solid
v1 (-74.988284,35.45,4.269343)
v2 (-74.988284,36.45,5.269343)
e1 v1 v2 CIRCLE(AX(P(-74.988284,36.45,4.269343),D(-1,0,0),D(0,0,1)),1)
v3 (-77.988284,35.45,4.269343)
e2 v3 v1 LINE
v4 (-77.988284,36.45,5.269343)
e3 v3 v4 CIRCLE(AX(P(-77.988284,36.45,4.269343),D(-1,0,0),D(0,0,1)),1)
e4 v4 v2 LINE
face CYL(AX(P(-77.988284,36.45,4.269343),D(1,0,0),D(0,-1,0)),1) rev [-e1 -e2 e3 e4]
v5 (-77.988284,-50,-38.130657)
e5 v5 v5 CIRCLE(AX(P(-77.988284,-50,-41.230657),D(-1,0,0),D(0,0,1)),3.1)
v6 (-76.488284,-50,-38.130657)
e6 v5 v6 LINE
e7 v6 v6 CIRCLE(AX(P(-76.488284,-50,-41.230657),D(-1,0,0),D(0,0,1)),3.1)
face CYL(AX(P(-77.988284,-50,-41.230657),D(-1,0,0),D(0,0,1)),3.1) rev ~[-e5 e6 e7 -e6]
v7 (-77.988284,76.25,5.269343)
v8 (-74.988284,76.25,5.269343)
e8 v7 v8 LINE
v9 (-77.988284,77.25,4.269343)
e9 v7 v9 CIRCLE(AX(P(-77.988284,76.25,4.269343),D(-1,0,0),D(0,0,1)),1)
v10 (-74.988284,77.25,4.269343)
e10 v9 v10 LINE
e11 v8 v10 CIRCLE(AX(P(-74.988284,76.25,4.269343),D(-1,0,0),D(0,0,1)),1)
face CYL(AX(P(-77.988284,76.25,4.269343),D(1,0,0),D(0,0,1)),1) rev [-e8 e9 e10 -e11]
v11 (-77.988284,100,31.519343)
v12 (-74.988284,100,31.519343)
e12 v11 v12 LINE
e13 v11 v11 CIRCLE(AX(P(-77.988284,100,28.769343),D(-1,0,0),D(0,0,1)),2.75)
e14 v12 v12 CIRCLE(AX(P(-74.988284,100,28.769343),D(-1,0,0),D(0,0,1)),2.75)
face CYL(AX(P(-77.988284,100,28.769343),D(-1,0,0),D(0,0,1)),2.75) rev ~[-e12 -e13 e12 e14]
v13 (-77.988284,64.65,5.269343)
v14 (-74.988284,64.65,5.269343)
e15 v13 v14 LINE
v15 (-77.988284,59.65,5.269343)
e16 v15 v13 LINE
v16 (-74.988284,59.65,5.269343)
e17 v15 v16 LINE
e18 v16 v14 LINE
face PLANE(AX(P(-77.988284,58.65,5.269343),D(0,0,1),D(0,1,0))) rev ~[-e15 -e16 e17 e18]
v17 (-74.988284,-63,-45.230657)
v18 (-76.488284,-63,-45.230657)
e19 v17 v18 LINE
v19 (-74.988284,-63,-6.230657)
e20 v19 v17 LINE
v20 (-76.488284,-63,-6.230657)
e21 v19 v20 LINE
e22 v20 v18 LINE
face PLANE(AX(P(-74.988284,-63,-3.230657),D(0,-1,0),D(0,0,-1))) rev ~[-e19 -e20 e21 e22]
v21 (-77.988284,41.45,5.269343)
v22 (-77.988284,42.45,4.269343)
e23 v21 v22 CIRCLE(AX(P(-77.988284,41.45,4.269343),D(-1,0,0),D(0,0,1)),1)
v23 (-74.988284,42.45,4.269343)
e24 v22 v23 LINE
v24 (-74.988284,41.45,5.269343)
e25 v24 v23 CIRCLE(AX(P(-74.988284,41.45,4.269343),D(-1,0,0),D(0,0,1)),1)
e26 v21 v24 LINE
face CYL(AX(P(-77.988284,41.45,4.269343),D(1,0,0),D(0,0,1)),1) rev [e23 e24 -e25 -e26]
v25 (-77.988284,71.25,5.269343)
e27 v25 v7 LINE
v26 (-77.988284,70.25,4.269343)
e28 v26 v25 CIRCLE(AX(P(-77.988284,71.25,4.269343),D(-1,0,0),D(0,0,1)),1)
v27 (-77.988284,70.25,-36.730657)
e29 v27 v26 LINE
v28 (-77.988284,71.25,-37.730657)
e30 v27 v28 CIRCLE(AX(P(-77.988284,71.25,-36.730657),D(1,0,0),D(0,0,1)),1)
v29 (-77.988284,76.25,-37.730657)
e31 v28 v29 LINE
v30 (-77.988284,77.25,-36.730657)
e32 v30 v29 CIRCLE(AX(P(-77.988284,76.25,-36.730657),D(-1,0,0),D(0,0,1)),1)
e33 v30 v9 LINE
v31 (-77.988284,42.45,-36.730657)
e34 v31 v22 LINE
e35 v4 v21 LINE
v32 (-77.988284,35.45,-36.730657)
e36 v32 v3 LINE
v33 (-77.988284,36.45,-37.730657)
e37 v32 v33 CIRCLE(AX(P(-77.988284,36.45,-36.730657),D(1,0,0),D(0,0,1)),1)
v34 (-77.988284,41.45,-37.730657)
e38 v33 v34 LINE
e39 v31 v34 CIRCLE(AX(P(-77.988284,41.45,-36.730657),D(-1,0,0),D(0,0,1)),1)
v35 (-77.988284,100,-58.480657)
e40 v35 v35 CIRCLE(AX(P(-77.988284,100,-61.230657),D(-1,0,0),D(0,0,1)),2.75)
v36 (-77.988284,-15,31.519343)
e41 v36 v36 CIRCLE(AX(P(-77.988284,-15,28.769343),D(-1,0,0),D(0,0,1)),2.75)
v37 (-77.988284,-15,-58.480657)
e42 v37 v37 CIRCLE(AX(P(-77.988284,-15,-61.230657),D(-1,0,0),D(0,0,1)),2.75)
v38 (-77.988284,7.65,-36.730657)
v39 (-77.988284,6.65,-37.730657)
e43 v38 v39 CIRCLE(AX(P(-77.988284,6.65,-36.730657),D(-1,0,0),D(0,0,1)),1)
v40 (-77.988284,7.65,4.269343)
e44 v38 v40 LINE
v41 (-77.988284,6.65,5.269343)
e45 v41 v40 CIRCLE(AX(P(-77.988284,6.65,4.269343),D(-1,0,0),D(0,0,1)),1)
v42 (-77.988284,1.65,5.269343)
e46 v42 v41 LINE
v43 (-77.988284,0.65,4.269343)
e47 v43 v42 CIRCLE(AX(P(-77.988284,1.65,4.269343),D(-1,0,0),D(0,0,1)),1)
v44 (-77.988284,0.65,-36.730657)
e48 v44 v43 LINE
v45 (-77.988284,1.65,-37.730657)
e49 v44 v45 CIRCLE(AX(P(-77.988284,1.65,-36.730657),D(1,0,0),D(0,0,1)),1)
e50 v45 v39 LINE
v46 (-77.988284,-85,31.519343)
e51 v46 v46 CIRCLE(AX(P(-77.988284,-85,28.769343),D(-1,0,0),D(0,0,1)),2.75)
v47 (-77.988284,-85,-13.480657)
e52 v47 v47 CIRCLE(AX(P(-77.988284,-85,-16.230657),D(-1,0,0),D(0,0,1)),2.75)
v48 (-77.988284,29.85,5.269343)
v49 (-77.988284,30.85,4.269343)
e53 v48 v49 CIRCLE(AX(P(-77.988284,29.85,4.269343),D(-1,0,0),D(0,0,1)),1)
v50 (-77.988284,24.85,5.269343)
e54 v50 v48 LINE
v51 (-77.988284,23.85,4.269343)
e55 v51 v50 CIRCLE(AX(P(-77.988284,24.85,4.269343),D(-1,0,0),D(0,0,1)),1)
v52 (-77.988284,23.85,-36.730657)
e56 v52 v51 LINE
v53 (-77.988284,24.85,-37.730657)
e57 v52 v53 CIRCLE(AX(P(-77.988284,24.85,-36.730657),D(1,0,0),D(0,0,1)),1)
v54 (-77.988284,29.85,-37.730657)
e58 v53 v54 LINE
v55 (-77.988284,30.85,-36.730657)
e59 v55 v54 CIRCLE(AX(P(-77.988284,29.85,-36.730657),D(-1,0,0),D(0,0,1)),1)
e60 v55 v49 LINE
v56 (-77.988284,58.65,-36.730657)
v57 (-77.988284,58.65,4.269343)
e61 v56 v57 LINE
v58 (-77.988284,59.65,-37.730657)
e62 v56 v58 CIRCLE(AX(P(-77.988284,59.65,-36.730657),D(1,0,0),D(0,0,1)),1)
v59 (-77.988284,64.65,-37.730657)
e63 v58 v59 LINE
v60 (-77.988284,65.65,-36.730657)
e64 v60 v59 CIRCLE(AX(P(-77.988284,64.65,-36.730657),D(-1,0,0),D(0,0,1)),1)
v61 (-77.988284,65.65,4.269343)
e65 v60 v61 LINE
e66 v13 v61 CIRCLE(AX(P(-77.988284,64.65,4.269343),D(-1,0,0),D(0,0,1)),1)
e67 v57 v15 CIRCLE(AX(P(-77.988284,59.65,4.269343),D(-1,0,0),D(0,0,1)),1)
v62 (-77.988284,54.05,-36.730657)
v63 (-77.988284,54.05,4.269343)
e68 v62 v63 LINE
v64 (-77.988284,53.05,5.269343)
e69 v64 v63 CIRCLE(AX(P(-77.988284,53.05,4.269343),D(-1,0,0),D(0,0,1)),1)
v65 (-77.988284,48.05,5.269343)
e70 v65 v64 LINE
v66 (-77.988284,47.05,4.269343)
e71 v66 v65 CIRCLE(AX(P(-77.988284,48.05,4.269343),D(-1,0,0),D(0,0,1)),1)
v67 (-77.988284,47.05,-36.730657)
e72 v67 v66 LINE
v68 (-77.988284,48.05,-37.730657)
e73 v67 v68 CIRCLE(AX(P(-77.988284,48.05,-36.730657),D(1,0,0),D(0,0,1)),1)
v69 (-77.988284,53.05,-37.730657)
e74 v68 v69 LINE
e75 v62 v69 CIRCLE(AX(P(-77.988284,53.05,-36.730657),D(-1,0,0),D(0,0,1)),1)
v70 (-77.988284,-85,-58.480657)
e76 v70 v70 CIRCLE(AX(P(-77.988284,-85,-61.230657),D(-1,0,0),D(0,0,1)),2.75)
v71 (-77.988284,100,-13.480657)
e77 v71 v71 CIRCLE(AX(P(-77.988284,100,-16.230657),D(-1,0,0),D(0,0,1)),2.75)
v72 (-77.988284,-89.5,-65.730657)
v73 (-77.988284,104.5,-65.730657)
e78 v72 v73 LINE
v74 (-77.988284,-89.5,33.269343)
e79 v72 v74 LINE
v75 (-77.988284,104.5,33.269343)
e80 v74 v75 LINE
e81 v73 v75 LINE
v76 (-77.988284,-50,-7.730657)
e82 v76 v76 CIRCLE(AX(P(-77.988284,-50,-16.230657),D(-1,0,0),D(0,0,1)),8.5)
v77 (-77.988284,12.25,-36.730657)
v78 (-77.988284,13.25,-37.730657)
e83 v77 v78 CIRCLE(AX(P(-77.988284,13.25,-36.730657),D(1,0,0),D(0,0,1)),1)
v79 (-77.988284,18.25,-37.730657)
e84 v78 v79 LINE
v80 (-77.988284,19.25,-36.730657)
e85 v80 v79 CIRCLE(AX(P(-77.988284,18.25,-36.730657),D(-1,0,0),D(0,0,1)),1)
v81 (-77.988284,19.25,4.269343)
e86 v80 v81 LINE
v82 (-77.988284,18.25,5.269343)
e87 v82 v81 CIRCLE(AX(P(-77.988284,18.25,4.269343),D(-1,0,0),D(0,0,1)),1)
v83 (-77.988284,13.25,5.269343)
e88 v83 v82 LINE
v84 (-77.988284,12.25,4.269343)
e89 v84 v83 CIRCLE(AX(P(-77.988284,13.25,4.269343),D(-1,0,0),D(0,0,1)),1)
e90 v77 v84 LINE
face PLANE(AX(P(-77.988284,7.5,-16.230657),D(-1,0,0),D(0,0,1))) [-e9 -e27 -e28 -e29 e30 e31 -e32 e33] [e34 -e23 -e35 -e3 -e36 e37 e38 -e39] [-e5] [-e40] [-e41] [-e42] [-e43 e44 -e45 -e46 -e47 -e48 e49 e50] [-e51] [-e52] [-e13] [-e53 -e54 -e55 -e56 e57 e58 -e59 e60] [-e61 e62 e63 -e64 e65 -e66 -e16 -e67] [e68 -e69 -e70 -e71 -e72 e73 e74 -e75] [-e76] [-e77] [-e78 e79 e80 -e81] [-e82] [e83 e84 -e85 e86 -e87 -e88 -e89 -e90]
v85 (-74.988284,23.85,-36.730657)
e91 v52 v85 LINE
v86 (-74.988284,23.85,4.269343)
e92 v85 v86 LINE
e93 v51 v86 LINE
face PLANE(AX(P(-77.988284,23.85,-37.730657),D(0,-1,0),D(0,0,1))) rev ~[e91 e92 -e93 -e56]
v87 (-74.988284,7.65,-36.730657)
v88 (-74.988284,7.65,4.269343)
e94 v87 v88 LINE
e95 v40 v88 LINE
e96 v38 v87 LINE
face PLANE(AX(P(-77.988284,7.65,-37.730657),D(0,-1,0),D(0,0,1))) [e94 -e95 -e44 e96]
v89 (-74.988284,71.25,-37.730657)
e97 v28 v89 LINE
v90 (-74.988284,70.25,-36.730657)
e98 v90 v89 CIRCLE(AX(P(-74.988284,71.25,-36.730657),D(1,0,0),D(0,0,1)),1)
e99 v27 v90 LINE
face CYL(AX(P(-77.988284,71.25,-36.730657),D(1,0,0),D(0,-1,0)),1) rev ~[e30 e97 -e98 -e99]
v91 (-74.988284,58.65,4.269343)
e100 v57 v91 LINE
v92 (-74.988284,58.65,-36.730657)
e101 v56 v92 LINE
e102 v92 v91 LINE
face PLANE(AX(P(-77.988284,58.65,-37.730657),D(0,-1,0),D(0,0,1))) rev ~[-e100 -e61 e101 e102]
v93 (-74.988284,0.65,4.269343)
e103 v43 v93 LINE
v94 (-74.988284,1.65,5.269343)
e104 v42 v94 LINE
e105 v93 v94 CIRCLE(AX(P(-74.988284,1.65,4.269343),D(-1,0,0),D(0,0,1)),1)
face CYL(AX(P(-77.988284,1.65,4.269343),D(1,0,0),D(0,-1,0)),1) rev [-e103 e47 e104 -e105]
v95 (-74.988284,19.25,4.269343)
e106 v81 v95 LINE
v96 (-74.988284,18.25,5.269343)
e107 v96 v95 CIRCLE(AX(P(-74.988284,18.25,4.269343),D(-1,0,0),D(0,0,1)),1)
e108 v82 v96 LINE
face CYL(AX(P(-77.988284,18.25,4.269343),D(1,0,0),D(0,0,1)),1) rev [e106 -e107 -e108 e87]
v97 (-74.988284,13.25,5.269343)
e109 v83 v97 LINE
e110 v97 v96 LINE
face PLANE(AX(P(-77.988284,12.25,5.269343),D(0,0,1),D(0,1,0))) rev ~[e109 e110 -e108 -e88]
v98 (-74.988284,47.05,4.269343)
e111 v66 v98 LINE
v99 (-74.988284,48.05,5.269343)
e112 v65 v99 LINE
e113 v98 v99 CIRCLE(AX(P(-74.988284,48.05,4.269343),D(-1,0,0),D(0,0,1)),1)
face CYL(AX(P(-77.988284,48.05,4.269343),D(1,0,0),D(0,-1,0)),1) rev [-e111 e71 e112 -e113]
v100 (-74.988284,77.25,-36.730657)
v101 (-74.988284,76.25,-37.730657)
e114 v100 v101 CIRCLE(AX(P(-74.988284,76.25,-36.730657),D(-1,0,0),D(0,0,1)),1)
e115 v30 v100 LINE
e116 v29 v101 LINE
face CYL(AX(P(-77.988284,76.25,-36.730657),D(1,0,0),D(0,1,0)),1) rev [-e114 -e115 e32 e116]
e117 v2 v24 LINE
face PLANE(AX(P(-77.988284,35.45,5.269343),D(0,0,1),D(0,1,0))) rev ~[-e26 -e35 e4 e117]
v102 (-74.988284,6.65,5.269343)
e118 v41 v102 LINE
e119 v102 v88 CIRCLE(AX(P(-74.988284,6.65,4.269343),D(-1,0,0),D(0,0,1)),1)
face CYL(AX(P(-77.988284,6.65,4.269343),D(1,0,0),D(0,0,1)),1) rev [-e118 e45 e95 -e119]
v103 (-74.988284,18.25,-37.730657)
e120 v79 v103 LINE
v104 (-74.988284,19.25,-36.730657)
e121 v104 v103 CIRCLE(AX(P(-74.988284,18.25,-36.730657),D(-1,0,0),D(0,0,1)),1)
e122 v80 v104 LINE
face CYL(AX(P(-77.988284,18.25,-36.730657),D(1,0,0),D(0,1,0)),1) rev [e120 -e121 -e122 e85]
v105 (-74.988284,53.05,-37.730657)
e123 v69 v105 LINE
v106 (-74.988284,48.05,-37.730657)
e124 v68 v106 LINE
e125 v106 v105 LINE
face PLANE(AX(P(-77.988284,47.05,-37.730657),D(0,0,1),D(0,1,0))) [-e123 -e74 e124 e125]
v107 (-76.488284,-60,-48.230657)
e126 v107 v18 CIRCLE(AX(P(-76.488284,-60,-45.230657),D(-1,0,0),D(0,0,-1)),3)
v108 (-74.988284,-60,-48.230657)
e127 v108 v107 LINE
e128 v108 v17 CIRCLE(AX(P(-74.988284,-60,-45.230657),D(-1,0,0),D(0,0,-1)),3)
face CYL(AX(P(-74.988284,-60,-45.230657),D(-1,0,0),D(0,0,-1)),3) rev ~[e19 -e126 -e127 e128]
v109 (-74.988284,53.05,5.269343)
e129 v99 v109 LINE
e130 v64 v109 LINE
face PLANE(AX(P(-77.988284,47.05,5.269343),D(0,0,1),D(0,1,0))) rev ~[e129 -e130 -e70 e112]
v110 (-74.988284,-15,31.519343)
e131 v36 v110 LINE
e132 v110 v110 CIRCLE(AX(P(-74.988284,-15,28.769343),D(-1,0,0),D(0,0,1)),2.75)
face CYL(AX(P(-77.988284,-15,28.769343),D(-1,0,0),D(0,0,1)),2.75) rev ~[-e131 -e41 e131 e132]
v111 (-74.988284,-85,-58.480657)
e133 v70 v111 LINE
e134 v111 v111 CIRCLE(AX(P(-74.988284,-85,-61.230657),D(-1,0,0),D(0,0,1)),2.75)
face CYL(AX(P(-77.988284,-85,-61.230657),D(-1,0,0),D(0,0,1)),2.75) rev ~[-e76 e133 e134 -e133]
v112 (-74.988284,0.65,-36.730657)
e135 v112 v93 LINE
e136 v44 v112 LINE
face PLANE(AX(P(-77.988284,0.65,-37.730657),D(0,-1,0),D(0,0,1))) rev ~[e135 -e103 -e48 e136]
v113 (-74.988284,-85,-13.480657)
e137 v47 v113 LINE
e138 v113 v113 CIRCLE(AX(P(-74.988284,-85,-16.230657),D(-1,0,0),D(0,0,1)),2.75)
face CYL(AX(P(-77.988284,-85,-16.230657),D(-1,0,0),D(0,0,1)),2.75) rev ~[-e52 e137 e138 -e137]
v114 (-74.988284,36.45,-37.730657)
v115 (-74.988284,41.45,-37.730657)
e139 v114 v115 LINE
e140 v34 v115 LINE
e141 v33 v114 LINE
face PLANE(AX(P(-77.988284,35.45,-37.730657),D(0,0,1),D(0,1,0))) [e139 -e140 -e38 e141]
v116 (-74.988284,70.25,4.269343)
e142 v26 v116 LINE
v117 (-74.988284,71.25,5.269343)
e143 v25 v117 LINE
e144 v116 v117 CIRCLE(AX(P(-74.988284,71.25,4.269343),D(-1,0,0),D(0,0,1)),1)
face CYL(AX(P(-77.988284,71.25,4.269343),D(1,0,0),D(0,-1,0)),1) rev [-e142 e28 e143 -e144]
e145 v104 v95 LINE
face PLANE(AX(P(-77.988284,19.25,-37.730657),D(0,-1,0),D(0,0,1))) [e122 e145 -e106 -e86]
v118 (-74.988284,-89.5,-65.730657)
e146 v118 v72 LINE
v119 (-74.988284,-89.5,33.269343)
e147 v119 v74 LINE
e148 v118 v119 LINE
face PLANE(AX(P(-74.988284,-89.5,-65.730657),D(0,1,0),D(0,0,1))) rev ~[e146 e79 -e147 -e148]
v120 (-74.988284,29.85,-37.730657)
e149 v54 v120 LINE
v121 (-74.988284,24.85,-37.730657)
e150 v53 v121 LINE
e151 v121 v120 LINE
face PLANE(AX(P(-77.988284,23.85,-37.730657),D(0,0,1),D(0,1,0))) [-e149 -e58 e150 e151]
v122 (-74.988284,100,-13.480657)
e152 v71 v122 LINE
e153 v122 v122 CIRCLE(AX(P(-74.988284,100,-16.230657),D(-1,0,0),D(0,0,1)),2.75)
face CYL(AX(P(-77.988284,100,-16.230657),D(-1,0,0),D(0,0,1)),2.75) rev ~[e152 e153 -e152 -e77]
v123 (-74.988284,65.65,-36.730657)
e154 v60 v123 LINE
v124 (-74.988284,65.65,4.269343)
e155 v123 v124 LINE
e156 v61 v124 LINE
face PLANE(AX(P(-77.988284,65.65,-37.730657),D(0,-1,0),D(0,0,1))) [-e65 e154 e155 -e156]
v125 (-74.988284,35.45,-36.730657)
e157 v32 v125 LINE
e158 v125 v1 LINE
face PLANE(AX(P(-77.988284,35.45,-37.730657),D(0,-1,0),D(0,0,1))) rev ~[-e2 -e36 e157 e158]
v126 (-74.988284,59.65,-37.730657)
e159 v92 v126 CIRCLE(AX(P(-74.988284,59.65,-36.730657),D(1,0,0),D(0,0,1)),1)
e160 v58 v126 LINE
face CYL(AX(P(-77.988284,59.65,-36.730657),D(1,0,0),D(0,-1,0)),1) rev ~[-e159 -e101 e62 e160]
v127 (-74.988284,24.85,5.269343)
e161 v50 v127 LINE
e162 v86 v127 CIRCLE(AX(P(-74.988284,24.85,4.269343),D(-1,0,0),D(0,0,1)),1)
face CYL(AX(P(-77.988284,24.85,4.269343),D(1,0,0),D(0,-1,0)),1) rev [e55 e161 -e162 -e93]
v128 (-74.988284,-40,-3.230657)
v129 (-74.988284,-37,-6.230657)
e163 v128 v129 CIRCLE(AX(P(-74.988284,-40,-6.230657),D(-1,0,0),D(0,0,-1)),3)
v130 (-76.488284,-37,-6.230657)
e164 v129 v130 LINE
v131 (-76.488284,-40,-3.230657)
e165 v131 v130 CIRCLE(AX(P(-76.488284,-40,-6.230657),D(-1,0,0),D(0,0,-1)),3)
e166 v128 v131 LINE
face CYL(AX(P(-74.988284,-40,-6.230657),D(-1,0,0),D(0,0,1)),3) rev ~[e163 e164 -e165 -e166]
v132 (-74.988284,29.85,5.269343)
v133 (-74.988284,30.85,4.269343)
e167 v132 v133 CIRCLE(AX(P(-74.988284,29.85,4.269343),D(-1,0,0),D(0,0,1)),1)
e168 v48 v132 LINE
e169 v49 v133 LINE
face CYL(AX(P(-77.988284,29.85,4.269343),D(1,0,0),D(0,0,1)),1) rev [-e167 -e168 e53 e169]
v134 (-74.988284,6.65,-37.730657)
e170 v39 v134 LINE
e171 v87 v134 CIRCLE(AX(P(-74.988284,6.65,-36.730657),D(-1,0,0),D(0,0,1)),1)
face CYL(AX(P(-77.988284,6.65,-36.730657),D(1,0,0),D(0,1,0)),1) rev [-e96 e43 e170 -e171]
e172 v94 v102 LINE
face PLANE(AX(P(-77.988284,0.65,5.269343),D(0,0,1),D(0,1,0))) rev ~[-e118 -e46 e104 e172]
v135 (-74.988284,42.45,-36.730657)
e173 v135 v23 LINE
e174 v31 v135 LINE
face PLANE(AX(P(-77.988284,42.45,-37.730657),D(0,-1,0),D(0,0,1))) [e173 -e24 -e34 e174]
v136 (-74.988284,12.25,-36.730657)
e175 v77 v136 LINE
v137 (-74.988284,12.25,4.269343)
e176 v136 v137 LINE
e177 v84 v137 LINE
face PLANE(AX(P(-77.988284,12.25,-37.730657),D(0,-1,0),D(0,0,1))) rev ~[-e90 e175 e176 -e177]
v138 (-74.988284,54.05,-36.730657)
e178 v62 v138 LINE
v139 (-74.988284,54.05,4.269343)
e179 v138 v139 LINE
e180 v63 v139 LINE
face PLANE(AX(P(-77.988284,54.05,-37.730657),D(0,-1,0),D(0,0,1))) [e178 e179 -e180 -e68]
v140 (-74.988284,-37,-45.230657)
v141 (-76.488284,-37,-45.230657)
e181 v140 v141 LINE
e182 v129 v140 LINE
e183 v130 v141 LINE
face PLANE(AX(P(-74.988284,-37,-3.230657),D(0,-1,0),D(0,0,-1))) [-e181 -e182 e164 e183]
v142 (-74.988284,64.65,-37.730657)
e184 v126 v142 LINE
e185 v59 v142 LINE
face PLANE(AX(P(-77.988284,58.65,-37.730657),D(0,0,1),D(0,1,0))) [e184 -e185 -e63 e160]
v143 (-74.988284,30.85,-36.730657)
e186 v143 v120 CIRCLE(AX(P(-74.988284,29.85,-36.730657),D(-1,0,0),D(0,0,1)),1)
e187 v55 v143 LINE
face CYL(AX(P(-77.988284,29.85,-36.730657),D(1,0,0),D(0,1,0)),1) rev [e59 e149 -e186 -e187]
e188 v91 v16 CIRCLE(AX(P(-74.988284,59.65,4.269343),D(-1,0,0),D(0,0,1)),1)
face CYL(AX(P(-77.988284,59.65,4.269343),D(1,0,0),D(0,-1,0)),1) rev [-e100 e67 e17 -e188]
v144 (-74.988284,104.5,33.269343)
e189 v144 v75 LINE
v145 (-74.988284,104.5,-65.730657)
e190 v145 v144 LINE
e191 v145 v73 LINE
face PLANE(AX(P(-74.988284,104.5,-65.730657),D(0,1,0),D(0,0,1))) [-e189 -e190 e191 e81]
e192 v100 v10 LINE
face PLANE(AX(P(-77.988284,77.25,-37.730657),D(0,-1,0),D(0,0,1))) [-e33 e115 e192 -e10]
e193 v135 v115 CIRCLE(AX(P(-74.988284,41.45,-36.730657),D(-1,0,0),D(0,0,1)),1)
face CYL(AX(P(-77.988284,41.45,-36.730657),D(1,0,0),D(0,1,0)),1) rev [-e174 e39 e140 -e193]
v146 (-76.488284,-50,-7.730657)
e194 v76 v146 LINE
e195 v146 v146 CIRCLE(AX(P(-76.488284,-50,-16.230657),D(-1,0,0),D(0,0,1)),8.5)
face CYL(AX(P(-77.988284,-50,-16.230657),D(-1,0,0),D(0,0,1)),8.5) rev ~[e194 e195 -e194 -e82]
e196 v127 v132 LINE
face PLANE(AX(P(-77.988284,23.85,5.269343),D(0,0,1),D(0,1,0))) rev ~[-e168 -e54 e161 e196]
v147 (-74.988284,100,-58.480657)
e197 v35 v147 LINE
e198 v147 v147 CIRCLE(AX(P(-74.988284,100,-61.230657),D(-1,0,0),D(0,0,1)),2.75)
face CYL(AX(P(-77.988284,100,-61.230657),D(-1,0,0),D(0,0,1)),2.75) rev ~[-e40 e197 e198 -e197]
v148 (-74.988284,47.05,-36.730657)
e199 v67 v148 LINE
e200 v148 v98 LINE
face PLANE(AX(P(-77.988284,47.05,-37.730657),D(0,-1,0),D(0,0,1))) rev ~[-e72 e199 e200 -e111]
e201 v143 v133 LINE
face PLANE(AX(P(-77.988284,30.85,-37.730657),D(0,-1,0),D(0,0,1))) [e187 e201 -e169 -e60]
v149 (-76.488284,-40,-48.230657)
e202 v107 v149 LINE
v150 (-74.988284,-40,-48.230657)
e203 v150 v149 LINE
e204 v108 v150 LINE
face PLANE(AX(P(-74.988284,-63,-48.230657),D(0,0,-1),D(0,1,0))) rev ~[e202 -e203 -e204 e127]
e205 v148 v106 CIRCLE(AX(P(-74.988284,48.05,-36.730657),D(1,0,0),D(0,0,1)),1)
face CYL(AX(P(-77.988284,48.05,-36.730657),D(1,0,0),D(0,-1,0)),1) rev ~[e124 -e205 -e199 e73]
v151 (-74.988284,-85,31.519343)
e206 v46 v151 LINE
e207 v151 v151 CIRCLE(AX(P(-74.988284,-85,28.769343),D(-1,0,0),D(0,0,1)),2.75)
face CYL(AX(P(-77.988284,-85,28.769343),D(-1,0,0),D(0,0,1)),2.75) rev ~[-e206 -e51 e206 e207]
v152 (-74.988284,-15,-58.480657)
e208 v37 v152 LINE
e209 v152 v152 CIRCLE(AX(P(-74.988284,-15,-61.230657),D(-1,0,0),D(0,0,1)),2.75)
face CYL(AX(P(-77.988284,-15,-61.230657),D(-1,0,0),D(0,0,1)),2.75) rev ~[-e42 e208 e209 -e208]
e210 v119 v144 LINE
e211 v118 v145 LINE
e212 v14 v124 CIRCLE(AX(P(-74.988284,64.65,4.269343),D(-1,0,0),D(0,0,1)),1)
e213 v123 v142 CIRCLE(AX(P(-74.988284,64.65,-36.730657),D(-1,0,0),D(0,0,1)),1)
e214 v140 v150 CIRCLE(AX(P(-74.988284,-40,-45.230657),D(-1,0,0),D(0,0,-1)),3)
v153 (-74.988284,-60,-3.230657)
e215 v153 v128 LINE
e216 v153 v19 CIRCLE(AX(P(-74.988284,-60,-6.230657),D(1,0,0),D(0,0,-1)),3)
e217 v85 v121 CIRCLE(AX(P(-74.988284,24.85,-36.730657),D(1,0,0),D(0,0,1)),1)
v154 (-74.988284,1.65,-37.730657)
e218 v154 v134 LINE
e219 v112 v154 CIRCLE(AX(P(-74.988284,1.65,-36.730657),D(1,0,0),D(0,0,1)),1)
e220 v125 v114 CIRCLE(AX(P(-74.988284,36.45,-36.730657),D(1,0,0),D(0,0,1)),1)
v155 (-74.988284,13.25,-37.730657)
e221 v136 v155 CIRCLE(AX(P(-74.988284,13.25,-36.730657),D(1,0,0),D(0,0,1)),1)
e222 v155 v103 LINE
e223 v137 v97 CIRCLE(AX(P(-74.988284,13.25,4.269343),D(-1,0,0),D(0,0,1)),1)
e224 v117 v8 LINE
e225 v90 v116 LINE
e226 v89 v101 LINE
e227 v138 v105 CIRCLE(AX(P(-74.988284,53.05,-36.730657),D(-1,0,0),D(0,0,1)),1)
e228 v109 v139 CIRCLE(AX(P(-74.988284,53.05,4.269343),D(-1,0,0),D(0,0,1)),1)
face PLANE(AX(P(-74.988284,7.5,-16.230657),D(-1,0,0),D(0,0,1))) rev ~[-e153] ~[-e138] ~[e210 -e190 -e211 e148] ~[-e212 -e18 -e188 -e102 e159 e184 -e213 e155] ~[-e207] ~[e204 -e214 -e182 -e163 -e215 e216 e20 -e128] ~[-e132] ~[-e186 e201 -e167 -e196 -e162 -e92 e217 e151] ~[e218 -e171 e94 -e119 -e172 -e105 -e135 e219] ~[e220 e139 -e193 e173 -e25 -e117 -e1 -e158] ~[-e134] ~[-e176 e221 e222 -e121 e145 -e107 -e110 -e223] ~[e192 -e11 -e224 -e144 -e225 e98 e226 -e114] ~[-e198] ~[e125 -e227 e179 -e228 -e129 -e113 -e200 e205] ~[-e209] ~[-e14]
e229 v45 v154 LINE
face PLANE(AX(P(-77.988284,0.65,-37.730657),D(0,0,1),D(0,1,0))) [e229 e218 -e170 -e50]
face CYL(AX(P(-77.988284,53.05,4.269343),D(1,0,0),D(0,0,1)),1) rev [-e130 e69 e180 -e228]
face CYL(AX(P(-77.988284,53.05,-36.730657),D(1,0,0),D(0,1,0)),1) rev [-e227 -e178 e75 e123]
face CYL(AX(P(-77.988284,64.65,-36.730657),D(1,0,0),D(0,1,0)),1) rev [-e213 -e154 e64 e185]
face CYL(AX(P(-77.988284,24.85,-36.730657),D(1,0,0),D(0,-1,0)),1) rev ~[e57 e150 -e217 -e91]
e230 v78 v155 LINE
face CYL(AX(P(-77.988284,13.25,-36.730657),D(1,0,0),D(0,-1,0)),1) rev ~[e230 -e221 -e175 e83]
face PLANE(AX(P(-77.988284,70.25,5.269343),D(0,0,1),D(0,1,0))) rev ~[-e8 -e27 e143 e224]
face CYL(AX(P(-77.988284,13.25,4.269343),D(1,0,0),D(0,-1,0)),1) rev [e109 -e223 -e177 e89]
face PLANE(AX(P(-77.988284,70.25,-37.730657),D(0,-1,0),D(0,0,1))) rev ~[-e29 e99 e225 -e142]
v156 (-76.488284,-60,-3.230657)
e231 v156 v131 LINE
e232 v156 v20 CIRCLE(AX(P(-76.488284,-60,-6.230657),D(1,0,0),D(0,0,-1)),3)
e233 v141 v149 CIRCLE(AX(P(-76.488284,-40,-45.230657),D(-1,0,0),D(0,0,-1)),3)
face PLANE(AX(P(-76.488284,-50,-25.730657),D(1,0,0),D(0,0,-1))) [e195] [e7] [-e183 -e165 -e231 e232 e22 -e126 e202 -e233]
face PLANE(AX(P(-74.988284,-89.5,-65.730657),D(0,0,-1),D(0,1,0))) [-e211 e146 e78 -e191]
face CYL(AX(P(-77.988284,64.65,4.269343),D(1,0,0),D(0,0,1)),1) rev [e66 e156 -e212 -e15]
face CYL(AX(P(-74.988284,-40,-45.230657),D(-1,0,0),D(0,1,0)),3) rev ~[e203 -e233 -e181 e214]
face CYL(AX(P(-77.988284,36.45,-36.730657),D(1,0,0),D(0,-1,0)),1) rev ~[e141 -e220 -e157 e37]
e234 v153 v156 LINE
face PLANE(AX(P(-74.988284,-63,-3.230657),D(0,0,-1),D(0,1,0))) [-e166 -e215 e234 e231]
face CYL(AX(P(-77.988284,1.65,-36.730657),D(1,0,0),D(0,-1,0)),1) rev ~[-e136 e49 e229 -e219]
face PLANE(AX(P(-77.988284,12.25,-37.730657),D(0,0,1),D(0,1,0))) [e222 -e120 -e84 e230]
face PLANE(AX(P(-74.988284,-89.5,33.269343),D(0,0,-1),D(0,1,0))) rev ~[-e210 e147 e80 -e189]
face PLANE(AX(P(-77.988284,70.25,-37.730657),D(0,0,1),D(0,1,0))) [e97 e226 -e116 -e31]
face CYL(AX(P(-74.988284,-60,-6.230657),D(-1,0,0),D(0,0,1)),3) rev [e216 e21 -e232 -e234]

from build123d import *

# Parameters (mm, degrees)
SKETCH1_W           = 99
SKETCH1_H           = 194
BOSS_EXTRUDE1_DEPTH = 3
SKETCH2_W           = 43
SKETCH2_H           = 7
CUT_EXTRUDE1_DEPTH  = 4
FILLET1_R           = 1
SKETCH3_R           = 8.5
SKETCH3_R_2         = 3.1
CUT_EXTRUDE2_DEPTH  = 4
SKETCH4_W           = 45
SKETCH4_H           = 26
CUT_EXTRUDE3_DEPTH  = 1.5
FILLET2_R           = 3
SKETCH5_R           = 2.75
CUT_EXTRUDE4_DEPTH  = 4


with BuildPart() as part:
    # Sketch1 → Boss-Extrude1 (new body)
    with BuildSketch(Plane.ZY.offset(74.98828393)):
        with Locations((-16.230657269, 7.5)):
            Rectangle(SKETCH1_W, SKETCH1_H)
    extrude(amount=BOSS_EXTRUDE1_DEPTH)

    # Sketch2 → Cut-Extrude1 (cut, through all)
    with BuildSketch(Plane.ZY.offset(77.98828393)):
        with Locations((-16.230657269, 73.75)):
            Rectangle(SKETCH2_W, SKETCH2_H)
        with Locations((-16.230657269, 62.15)):
            Rectangle(SKETCH2_W, SKETCH2_H)
        with Locations((-16.230657269, 50.55)):
            Rectangle(SKETCH2_W, SKETCH2_H)
        with Locations((-16.230657269, 38.95)):
            Rectangle(SKETCH2_W, SKETCH2_H)
        with Locations((-16.230657269, 27.35)):
            Rectangle(SKETCH2_W, SKETCH2_H)
        with Locations((-16.230657269, 15.75)):
            Rectangle(SKETCH2_W, SKETCH2_H)
        with Locations((-16.230657269, 4.15)):
            Rectangle(SKETCH2_W, SKETCH2_H)
    extrude(amount=-CUT_EXTRUDE1_DEPTH, mode=Mode.SUBTRACT)

    # Fillet1
    fillet1_edges = [part.edges().sort_by_distance(p)[0] for p in [
        (-76.48828393, 77.25, 5.269342731),
        (-76.48828393, 70.25, 5.269342731),
        (-76.48828393, 70.25, -37.730657269),
        (-76.48828393, 77.25, -37.730657269),
        (-76.48828393, 65.65, 5.269342731),
        (-76.48828393, 58.65, 5.269342731),
        (-76.48828393, 58.65, -37.730657269),
        (-76.48828393, 65.65, -37.730657269),
        (-76.48828393, 54.05, 5.269342731),
        (-76.48828393, 47.05, 5.269342731),
        (-76.48828393, 47.05, -37.730657269),
        (-76.48828393, 54.05, -37.730657269),
        (-76.48828393, 42.45, 5.269342731),
        (-76.48828393, 35.45, 5.269342731),
        (-76.48828393, 35.45, -37.730657269),
        (-76.48828393, 42.45, -37.730657269),
        (-76.48828393, 30.85, 5.269342731),
        (-76.48828393, 23.85, 5.269342731),
        (-76.48828393, 23.85, -37.730657269),
        (-76.48828393, 30.85, -37.730657269),
        (-76.48828393, 19.25, 5.269342731),
        (-76.48828393, 12.25, 5.269342731),
        (-76.48828393, 12.25, -37.730657269),
        (-76.48828393, 19.25, -37.730657269),
        (-76.48828393, 7.65, 5.269342731),
        (-76.48828393, 0.65, 5.269342731),
        (-76.48828393, 0.65, -37.730657269),
        (-76.48828393, 7.65, -37.730657269),
    ]]
    fillet(fillet1_edges, radius=FILLET1_R)

    # Sketch3 → Cut-Extrude2 (cut, through all)
    with BuildSketch(Plane.ZY.offset(77.98828393)):
        with Locations((-16.230657269, -50)):
            Circle(SKETCH3_R)
        with Locations((-41.230657269, -50)):
            Circle(SKETCH3_R_2)
    extrude(amount=-CUT_EXTRUDE2_DEPTH, mode=Mode.SUBTRACT)

    # Sketch4 → Cut-Extrude3 (cut)
    with BuildSketch(Plane(origin=(-74.98828393, 0, 0), x_dir=(0, 0, -1), z_dir=(1, 0, 0))):
        with Locations((25.730657269, -50)):
            Rectangle(SKETCH4_W, SKETCH4_H)
    extrude(amount=-CUT_EXTRUDE3_DEPTH, mode=Mode.SUBTRACT)

    # Fillet2
    fillet2_edges = [part.edges().sort_by_distance(p)[0] for p in [
        (-75.73828393, -37, -48.230657269),
        (-75.73828393, -63, -48.230657269),
        (-75.73828393, -63, -3.230657269),
        (-75.73828393, -37, -3.230657269),
    ]]
    fillet(fillet2_edges, radius=FILLET2_R)

    # Sketch5 → Cut-Extrude4 (cut, through all)
    with BuildSketch(Plane.ZY.offset(77.98828393)):
        with Locations((-61.230657269, 100)):
            Circle(SKETCH5_R)
        with Locations((28.769342731, 100)):
            Circle(SKETCH5_R)
        with Locations((-61.230657269, -15)):
            Circle(SKETCH5_R)
        with Locations((-61.230657269, -85)):
            Circle(SKETCH5_R)
        with Locations((28.769342731, -85)):
            Circle(SKETCH5_R)
        with Locations((28.769342731, -15)):
            Circle(SKETCH5_R)
        with Locations((-16.230657269, 100)):
            Circle(SKETCH5_R)
        with Locations((-16.230657269, -85)):
            Circle(SKETCH5_R)
    extrude(amount=-CUT_EXTRUDE4_DEPTH, mode=Mode.SUBTRACT)


solid = part.part
